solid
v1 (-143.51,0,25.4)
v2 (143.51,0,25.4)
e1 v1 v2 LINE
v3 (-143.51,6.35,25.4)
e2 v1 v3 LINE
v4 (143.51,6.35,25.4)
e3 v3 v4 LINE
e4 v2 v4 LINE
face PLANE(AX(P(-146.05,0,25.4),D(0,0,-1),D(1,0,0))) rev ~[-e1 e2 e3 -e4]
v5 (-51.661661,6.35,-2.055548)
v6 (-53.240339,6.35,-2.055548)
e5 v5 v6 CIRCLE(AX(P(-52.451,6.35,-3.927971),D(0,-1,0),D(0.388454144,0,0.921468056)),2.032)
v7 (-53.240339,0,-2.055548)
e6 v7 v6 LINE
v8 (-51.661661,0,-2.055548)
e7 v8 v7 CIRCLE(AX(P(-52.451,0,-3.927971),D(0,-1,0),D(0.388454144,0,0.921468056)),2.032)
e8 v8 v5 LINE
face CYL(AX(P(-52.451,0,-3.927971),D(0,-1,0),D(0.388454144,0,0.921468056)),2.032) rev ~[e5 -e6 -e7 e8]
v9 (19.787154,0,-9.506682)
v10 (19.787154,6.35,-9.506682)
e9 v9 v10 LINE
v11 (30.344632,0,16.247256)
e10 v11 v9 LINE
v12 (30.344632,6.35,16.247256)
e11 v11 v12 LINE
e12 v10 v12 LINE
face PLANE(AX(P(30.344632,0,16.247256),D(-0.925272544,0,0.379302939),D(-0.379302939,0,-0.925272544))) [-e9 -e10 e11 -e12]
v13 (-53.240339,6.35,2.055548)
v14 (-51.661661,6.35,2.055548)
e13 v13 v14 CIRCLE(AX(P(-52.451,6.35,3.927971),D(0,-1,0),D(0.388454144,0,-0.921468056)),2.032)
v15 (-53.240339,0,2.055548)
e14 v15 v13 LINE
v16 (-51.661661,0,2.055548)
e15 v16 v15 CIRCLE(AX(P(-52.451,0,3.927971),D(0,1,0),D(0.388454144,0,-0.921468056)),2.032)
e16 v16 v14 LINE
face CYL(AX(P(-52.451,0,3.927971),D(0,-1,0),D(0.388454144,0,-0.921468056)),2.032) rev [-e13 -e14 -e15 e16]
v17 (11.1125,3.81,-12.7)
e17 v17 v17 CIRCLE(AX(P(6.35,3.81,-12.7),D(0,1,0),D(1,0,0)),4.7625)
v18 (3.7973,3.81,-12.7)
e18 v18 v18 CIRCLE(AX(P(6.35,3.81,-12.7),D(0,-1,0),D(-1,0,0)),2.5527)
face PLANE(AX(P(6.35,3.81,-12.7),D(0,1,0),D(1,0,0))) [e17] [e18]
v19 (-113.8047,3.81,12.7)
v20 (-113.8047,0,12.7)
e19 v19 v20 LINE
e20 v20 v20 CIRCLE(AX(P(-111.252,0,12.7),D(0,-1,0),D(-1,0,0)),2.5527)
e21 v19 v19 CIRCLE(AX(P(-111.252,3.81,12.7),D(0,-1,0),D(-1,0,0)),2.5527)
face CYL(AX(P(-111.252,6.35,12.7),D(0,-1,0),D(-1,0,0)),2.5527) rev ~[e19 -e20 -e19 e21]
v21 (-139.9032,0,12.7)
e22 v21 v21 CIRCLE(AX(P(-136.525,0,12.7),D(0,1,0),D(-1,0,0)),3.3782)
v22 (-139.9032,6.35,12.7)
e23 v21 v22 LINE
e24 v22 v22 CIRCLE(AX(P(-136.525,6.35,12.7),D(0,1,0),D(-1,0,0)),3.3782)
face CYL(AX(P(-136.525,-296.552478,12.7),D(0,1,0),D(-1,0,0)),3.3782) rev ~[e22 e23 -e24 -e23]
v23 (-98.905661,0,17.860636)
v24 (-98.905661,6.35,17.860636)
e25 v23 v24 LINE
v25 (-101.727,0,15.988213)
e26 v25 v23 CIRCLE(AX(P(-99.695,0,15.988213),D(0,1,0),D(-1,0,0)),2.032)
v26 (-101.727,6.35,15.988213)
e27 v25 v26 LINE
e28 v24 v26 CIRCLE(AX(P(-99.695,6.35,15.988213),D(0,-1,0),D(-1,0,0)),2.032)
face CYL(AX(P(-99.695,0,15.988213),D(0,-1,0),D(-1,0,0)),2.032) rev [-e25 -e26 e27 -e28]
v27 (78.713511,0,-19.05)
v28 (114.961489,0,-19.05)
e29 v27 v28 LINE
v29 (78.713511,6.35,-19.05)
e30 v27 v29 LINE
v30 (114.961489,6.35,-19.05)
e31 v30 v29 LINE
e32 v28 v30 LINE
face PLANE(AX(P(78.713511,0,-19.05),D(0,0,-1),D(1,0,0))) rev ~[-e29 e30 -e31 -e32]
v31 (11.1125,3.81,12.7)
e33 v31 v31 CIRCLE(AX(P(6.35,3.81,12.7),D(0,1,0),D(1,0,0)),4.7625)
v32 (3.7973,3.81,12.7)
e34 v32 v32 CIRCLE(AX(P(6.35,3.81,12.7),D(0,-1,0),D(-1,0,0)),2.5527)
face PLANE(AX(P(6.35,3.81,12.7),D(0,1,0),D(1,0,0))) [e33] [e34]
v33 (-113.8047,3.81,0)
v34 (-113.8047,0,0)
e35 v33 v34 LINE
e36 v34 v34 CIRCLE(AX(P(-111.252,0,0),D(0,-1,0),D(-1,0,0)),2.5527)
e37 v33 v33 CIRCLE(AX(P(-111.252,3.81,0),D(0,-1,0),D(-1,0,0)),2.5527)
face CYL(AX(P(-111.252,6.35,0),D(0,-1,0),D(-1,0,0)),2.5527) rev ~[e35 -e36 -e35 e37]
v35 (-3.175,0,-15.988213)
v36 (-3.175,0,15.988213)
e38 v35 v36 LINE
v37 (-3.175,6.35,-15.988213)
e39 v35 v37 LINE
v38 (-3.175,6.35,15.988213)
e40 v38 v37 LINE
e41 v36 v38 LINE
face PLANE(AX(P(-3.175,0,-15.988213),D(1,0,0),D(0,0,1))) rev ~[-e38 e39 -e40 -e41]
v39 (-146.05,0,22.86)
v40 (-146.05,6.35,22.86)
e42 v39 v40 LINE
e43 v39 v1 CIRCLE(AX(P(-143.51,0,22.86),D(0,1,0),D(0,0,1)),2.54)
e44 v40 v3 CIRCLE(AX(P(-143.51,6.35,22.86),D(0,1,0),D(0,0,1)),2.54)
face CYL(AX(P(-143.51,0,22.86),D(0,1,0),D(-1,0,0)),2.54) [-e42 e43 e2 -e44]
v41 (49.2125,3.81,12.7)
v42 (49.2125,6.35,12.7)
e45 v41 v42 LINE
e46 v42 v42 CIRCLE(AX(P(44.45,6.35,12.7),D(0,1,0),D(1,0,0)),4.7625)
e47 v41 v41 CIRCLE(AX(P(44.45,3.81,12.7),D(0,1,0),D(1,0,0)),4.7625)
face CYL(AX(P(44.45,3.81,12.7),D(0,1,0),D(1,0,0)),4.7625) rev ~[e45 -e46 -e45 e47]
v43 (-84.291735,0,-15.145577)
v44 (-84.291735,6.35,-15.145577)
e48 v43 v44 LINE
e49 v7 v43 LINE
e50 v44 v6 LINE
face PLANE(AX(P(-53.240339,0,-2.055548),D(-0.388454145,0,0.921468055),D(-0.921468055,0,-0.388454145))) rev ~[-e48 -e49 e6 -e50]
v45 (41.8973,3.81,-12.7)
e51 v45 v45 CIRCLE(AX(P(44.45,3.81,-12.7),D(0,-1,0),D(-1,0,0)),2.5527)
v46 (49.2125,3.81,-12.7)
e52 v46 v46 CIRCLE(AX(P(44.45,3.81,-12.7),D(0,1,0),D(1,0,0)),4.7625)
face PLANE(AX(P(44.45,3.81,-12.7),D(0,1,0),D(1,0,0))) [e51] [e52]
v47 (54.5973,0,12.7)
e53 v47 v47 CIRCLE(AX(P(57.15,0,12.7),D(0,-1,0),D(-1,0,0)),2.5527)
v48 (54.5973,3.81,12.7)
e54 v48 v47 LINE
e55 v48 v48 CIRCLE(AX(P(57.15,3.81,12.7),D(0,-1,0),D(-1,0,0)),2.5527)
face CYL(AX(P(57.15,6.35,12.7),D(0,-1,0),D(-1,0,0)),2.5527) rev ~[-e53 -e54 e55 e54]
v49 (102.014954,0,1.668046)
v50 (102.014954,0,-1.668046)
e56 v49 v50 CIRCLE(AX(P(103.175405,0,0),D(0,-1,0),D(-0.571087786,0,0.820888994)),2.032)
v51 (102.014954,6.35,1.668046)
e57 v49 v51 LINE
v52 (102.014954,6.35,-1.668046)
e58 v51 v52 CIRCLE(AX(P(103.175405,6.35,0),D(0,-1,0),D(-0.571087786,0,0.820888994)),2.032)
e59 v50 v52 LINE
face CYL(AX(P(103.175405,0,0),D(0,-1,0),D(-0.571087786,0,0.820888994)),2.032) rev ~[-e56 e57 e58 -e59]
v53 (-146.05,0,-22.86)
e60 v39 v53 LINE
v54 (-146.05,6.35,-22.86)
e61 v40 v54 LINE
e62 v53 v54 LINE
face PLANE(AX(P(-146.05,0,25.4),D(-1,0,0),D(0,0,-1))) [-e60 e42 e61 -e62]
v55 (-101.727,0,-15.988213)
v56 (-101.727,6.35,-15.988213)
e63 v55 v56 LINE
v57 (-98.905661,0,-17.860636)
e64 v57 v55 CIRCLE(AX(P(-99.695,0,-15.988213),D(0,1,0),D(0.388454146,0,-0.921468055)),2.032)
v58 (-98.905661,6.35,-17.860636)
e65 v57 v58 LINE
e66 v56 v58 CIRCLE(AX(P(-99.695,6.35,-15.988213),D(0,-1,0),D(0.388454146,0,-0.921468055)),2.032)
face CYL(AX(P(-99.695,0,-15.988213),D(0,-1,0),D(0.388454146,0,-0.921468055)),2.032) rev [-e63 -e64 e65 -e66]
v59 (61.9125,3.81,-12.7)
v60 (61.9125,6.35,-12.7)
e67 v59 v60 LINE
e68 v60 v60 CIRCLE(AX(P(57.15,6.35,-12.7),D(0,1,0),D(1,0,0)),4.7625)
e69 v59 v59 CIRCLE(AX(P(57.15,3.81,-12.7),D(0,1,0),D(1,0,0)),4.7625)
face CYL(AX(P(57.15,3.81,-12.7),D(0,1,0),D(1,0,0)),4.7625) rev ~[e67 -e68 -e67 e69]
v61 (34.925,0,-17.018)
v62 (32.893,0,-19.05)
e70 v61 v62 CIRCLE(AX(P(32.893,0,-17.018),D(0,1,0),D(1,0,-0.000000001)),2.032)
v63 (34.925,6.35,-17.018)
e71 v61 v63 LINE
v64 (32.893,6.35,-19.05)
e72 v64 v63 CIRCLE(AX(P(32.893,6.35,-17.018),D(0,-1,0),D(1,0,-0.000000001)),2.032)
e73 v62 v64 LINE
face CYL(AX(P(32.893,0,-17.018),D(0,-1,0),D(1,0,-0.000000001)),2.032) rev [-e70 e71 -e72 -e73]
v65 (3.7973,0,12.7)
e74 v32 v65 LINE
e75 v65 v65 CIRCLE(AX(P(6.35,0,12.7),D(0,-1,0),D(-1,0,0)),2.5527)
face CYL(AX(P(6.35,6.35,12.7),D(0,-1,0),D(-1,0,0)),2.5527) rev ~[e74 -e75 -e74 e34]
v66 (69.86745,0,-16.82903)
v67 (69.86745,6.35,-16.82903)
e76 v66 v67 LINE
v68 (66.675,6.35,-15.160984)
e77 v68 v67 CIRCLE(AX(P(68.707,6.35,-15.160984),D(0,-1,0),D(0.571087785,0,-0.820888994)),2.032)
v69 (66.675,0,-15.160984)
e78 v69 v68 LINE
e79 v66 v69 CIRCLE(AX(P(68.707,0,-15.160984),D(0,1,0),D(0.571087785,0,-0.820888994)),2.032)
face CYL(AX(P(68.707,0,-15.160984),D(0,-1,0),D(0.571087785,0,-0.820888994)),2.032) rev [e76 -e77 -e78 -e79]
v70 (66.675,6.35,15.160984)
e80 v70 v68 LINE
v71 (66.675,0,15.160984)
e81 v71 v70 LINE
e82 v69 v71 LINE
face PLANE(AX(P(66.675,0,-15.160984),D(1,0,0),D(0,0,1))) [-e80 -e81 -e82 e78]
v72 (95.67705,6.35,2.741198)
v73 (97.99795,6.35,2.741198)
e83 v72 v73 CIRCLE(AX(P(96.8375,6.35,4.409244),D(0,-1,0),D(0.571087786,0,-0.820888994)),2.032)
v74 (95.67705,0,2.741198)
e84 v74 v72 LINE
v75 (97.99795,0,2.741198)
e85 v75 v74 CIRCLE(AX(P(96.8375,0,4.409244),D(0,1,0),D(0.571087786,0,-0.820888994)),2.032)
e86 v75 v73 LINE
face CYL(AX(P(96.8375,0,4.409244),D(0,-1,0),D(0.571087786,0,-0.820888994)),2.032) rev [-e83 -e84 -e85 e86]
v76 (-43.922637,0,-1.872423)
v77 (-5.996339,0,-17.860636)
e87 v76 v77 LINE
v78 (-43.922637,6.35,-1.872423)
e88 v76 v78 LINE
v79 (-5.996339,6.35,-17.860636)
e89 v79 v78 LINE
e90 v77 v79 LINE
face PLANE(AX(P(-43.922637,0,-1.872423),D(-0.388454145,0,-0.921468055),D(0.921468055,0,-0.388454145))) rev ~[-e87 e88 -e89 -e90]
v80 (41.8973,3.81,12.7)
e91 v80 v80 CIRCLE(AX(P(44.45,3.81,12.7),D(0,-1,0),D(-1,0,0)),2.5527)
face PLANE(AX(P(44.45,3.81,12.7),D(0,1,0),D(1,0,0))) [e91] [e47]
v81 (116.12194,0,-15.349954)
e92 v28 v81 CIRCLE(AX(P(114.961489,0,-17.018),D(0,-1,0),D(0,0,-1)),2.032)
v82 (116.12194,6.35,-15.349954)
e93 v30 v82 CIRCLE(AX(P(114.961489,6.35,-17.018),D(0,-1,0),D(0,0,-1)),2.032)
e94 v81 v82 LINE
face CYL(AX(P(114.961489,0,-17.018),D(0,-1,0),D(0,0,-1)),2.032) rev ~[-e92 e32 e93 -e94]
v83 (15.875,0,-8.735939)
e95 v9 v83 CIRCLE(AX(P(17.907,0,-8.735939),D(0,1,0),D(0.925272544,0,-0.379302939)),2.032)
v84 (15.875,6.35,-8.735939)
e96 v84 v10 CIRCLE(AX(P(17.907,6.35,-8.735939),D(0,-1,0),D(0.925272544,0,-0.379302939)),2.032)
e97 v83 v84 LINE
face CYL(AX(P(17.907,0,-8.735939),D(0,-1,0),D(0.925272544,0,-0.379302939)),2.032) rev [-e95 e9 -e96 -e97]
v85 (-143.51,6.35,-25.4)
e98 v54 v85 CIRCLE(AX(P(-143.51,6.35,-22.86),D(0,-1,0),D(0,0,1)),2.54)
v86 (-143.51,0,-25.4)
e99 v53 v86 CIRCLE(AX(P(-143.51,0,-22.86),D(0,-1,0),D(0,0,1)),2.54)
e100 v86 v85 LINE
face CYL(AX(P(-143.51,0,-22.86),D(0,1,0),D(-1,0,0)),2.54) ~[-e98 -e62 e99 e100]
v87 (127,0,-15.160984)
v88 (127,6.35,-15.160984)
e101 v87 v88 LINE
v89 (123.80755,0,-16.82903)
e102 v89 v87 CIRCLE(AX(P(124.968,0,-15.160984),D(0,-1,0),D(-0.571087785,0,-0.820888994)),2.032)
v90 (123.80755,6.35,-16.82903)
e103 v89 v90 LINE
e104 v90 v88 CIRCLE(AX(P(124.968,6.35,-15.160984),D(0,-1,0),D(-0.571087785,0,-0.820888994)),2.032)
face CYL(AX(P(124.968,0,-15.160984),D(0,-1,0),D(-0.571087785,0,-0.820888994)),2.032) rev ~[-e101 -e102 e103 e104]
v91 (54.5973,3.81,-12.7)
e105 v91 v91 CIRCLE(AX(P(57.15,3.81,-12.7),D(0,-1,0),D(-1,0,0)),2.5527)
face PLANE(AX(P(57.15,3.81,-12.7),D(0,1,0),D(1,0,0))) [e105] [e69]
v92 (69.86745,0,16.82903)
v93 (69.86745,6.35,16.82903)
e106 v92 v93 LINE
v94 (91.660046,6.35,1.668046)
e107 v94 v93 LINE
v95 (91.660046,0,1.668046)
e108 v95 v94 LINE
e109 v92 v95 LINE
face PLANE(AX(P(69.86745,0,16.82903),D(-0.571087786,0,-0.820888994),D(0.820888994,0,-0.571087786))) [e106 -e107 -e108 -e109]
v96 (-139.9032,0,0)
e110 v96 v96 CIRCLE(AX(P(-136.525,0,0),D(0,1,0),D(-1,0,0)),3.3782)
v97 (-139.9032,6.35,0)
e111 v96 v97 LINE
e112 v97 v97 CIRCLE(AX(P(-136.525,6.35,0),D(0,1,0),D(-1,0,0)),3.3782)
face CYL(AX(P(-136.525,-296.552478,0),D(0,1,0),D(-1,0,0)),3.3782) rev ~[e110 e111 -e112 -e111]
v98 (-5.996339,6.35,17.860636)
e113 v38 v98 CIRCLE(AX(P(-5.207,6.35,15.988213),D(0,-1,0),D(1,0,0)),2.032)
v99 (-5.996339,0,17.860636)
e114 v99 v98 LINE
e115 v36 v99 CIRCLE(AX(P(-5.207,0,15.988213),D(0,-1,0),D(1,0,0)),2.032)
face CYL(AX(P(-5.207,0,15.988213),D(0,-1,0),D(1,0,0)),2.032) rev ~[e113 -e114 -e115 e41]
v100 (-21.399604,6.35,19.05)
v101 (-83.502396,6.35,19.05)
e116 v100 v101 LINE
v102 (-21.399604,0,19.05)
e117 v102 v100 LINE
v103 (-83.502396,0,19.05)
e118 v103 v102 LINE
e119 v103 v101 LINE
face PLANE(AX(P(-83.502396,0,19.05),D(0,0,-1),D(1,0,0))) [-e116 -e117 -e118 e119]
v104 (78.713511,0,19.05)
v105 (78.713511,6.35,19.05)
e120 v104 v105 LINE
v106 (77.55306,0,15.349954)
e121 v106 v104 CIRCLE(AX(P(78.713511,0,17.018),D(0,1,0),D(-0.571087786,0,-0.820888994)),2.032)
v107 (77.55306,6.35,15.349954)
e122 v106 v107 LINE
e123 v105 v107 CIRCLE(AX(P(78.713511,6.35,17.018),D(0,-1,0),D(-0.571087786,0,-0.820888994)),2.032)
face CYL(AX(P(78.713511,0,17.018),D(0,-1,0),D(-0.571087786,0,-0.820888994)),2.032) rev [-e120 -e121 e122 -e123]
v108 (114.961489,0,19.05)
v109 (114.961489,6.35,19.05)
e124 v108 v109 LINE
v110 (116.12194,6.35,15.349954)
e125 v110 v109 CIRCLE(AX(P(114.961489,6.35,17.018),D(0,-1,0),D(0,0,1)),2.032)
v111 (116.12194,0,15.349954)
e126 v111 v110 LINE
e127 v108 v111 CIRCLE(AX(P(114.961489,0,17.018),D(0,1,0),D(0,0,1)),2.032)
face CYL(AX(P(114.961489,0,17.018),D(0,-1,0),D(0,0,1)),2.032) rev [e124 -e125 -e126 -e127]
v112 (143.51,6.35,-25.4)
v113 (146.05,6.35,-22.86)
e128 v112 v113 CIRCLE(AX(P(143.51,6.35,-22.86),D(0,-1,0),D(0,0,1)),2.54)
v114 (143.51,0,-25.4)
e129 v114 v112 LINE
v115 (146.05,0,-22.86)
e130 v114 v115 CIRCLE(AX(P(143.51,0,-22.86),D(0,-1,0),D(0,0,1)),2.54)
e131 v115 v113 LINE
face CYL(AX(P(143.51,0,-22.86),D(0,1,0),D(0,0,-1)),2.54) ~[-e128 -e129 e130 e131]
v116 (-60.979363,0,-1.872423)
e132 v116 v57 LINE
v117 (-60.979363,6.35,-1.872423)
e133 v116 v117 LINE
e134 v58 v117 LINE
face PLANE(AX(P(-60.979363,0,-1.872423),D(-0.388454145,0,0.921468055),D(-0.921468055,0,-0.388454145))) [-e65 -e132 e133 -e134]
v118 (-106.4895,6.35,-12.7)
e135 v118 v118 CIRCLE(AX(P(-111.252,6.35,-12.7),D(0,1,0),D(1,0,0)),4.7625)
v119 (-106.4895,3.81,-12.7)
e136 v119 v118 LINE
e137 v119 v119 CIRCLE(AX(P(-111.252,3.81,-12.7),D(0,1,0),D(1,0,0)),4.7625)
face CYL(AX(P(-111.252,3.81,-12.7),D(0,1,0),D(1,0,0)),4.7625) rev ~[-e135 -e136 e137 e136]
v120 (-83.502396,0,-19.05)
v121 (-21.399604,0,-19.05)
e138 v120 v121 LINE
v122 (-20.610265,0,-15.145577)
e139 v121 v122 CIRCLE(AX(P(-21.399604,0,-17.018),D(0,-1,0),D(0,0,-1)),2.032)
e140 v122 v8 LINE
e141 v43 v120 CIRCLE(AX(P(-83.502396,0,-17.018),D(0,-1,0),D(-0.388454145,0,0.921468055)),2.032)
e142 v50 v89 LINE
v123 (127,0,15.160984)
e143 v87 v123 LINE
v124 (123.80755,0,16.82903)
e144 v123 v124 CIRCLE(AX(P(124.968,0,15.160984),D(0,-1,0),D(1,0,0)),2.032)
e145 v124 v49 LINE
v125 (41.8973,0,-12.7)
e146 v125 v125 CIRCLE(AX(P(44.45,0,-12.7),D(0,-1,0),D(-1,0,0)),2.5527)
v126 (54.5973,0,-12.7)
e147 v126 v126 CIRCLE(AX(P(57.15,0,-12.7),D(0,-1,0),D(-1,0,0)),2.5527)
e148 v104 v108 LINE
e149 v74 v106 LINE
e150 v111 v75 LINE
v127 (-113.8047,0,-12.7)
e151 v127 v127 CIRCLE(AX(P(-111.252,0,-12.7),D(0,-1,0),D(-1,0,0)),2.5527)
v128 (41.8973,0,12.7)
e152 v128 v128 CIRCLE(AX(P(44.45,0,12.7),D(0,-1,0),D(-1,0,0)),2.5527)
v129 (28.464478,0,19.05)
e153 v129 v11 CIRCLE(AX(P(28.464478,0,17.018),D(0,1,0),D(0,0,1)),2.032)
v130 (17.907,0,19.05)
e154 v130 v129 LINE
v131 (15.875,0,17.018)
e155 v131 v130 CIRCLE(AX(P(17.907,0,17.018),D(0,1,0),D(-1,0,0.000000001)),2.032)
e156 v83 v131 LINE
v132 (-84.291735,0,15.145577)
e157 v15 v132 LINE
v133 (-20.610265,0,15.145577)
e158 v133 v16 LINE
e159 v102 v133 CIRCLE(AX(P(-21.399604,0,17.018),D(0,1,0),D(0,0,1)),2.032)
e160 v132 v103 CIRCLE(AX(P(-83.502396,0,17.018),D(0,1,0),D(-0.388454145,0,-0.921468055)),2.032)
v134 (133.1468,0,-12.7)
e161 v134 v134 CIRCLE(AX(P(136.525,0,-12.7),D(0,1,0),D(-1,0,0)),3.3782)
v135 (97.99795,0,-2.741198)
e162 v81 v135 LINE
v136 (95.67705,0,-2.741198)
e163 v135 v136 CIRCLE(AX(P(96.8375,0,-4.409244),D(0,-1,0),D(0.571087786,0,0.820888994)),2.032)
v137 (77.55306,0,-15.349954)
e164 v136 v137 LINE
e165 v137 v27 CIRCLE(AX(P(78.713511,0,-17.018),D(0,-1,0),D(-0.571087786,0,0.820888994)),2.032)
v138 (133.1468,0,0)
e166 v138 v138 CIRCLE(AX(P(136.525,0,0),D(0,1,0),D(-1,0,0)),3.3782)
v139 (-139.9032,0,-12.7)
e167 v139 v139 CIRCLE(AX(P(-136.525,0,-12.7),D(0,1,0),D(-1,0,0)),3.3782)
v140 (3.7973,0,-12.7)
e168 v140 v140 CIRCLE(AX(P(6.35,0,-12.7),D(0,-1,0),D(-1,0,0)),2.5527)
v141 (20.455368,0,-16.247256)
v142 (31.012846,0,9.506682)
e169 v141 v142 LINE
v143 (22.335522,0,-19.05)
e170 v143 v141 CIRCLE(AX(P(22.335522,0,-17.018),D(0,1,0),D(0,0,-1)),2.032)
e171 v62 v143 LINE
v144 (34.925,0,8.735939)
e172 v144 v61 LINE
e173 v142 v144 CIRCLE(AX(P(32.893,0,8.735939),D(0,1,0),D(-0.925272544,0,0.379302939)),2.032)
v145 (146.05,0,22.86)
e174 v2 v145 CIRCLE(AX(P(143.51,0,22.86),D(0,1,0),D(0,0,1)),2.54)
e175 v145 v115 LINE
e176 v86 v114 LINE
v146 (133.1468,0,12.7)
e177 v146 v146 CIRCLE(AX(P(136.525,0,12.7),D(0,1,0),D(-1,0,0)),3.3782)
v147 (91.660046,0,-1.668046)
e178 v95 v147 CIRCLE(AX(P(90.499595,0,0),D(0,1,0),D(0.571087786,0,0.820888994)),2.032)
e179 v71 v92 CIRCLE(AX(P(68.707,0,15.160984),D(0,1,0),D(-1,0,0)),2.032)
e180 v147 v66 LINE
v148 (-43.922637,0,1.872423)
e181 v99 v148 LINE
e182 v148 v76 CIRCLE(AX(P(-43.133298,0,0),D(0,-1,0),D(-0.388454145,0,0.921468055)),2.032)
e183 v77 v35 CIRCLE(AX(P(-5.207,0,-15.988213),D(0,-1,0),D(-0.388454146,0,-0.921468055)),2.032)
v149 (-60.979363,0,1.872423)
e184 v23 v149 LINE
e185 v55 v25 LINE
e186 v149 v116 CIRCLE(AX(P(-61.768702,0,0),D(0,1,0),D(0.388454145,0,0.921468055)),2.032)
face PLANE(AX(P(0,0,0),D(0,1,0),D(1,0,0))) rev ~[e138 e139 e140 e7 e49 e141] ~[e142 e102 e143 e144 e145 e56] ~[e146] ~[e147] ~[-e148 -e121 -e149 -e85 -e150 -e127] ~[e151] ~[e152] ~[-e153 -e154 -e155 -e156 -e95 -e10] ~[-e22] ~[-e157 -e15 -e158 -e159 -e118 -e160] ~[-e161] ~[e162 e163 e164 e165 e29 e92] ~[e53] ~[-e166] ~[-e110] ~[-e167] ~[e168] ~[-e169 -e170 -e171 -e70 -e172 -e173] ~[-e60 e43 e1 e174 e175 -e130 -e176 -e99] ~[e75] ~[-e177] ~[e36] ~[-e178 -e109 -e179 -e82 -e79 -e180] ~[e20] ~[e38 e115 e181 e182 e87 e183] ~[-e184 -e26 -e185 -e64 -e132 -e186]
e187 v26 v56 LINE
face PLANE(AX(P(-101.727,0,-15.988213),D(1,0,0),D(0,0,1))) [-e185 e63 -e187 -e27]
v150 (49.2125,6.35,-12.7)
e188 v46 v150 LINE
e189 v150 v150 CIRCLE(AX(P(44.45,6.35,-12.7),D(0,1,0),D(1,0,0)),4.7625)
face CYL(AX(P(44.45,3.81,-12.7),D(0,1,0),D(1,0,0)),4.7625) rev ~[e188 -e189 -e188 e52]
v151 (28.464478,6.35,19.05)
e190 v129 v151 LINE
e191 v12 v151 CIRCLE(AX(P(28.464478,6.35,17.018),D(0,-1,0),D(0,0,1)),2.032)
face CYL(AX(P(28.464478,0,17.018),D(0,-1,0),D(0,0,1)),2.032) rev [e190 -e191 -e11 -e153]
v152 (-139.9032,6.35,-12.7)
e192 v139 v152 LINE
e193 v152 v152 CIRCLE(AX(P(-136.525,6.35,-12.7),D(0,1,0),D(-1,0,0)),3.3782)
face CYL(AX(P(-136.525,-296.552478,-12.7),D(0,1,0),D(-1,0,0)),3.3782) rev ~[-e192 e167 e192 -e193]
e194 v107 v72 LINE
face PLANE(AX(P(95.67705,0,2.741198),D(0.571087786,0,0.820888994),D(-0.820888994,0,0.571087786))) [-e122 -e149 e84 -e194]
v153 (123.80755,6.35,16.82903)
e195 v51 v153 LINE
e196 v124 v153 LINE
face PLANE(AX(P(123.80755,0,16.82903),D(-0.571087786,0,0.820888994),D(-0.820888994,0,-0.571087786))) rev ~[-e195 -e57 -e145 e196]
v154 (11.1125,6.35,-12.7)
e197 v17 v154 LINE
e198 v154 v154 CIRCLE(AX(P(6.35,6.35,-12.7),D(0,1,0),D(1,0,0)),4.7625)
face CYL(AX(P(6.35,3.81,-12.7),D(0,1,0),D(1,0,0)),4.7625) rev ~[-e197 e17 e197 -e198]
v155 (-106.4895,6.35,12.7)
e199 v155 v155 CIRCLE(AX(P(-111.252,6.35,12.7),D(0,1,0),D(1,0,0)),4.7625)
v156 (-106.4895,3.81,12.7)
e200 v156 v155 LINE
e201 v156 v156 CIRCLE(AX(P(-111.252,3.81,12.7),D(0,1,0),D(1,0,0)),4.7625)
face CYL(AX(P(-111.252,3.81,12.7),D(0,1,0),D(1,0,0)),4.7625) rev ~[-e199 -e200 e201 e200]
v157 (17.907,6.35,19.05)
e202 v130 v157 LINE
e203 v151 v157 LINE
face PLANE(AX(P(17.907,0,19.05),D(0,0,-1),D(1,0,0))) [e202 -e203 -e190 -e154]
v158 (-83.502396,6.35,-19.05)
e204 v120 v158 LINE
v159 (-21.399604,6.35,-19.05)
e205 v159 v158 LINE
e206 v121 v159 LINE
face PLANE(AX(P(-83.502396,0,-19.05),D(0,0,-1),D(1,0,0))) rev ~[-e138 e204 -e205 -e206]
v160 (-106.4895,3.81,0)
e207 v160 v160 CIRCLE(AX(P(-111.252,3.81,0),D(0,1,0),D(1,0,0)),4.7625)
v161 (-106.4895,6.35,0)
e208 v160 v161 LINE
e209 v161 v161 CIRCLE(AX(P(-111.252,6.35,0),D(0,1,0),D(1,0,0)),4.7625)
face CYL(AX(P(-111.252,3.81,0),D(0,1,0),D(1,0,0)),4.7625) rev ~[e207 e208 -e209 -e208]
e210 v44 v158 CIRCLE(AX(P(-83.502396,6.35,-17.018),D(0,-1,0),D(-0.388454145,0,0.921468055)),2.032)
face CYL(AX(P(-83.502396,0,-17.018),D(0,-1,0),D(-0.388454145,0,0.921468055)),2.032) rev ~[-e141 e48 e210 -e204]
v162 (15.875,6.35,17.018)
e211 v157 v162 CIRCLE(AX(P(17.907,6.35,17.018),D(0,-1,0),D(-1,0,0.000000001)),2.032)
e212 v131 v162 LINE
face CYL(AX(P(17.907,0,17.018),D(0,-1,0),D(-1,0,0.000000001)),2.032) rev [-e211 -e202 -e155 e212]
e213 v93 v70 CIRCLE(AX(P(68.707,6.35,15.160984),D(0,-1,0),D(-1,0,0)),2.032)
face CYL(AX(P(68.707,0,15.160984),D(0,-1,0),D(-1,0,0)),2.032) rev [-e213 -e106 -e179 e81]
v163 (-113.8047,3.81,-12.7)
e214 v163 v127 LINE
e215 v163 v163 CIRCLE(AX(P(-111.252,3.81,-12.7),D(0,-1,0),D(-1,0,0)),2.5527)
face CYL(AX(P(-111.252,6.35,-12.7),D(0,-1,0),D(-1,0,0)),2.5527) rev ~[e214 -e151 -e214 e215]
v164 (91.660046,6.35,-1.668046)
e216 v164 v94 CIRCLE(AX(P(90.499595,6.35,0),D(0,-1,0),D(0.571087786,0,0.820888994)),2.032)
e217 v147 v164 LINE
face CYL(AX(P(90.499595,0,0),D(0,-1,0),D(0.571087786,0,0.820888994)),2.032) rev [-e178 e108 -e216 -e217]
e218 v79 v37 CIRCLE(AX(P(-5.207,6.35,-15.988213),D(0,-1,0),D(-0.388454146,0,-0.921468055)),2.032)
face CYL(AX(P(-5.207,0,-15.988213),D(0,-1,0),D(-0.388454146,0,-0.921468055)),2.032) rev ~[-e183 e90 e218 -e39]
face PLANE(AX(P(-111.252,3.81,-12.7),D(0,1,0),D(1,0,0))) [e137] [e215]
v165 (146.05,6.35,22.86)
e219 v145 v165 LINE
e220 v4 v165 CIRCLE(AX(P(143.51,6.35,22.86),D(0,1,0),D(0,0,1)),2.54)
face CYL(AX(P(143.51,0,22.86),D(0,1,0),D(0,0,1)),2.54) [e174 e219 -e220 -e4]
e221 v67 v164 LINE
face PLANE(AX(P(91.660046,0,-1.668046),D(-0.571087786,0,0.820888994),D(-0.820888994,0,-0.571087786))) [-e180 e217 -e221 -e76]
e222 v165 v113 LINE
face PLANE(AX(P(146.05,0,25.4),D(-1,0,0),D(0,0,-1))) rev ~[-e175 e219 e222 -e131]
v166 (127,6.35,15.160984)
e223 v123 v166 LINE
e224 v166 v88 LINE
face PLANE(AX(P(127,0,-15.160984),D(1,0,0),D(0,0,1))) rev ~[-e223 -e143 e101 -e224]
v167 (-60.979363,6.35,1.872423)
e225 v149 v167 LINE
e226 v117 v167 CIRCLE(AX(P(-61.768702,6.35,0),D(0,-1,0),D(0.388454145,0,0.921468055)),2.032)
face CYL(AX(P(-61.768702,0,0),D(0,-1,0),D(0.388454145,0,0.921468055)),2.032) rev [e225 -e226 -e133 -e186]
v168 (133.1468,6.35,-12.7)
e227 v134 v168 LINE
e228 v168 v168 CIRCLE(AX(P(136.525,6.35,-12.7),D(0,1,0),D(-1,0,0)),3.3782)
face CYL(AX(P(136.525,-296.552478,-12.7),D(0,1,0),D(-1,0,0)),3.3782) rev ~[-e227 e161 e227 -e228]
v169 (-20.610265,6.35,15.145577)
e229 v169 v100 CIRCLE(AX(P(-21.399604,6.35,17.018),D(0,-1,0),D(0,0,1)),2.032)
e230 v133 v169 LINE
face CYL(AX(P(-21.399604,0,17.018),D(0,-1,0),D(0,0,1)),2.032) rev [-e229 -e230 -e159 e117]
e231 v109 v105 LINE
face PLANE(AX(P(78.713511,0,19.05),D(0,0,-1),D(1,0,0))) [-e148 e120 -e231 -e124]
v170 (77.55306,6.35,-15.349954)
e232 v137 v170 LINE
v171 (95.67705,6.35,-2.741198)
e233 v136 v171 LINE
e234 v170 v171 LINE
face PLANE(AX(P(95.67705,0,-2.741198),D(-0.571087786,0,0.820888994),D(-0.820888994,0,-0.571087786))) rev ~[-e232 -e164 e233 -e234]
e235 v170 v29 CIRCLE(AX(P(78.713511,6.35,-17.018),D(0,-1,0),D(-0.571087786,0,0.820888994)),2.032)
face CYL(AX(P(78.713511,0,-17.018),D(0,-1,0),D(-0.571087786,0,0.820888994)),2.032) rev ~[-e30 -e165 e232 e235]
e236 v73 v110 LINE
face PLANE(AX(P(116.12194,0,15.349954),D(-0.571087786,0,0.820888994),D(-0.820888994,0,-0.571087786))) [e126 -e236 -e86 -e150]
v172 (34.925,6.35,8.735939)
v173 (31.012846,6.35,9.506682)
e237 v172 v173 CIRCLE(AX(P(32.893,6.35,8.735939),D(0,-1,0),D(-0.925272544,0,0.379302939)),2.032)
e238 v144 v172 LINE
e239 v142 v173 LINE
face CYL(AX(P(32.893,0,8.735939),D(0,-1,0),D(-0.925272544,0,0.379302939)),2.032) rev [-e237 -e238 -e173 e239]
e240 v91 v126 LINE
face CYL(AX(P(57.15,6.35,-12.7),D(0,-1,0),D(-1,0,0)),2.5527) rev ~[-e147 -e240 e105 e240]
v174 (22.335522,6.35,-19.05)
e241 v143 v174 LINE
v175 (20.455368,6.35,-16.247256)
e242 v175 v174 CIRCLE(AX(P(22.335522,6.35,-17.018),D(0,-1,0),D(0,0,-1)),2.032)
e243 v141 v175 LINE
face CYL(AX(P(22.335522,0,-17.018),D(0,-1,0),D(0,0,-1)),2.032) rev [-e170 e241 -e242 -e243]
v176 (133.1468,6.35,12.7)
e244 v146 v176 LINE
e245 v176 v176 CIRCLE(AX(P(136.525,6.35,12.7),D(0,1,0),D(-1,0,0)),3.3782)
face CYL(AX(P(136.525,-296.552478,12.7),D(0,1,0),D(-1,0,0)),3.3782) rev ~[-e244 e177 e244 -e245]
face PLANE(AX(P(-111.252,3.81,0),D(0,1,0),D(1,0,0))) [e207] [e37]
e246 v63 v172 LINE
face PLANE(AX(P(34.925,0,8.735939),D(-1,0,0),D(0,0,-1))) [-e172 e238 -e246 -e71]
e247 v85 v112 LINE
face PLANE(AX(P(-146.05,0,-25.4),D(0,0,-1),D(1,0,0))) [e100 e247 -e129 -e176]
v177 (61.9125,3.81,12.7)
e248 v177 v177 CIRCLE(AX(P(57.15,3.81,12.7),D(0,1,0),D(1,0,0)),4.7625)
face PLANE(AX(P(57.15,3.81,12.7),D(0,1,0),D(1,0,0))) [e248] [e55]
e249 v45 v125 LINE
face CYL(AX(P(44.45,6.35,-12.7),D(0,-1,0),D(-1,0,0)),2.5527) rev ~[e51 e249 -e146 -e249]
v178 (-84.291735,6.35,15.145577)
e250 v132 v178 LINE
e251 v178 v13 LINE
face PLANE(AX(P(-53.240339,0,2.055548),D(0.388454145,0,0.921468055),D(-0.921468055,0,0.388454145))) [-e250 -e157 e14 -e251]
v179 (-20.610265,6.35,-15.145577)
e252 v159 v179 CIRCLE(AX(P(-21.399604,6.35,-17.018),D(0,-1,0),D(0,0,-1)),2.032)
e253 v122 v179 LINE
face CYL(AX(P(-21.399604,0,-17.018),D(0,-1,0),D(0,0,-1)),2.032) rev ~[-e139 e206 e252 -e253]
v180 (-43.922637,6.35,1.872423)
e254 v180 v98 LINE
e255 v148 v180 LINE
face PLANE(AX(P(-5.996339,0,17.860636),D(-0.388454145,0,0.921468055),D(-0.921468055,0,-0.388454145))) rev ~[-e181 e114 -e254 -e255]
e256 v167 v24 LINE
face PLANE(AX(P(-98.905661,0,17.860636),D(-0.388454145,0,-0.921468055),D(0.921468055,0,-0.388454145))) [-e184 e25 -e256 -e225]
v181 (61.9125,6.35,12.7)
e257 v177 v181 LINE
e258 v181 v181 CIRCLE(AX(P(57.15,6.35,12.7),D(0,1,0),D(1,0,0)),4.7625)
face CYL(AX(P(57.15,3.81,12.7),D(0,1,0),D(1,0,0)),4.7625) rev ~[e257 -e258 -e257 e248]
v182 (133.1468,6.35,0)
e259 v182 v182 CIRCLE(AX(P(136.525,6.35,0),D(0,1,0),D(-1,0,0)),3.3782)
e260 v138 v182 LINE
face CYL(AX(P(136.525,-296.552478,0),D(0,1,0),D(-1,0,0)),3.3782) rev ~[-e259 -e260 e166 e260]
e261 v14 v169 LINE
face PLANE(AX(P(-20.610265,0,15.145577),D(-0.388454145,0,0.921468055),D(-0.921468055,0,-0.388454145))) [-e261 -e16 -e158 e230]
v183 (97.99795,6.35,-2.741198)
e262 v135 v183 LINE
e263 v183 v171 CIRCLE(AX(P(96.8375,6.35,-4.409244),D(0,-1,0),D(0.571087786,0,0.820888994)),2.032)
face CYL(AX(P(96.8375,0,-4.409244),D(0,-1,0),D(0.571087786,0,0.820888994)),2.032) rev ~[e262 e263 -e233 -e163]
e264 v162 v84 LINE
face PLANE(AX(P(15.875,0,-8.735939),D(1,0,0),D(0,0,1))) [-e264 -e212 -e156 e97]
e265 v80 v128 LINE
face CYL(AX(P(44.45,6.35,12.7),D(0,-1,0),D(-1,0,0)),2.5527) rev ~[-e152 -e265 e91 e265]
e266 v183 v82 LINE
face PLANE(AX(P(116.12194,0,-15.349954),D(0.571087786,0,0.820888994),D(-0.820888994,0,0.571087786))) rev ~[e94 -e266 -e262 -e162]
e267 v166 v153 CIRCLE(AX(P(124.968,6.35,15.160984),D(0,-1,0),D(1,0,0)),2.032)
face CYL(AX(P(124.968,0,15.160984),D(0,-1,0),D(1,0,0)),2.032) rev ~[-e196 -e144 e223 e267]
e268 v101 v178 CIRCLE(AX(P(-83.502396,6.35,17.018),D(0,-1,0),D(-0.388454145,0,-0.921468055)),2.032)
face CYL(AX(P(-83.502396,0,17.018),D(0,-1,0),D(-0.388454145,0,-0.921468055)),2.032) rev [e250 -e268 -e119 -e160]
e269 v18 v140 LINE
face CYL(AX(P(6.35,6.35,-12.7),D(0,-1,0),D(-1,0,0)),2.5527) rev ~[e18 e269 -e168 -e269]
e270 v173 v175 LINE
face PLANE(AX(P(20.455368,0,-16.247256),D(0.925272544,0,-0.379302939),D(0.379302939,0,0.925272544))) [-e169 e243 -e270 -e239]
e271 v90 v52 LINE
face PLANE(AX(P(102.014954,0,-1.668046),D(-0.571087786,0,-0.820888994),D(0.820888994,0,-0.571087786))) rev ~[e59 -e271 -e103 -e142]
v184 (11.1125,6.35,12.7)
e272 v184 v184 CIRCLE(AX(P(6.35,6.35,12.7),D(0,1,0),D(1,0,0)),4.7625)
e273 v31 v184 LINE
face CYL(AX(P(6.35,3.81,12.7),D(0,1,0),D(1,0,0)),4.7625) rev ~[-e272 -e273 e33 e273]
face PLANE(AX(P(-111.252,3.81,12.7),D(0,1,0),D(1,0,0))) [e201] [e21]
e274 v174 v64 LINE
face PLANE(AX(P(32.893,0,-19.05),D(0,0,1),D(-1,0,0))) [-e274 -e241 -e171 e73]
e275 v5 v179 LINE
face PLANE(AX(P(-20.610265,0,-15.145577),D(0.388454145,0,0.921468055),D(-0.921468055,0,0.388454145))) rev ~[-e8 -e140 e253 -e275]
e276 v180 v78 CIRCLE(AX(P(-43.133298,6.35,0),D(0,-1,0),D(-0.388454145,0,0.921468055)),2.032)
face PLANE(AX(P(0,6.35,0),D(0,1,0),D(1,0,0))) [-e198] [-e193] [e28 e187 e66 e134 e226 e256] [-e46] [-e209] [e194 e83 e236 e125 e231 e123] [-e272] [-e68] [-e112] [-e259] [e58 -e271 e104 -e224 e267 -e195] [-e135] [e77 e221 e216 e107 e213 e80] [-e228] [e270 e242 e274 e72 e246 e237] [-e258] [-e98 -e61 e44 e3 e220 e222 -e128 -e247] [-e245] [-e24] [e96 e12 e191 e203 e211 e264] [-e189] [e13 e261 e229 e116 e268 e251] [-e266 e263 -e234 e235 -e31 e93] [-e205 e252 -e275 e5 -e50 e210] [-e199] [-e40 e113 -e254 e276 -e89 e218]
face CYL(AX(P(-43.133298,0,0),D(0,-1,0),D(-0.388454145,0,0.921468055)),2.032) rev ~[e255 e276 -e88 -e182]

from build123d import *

# Parameters (mm, degrees)
SKETCH1_W                                       = 292.1
SKETCH1_H                                       = 50.8
BOSS_EXTRUDE1_DEPTH                             = 6.35
CBORE_FOR_10_SOCKET_HEAD_CAP_SCREW1_D           = 5.1054
CBORE_FOR_10_SOCKET_HEAD_CAP_SCREW1_CBORE_D     = 9.525
CBORE_FOR_10_SOCKET_HEAD_CAP_SCREW1_CBORE_DEPTH = 2.54
F_1_4_CLEARANCE_HOLE1_D                         = 6.7564
FILLET1_R                                       = 2.54
CUT_EXTRUDE1_DEPTH                              = 7.35


with BuildPart() as part:
    # Sketch1 → Boss-Extrude1 (new body)
    with BuildSketch(Plane(origin=(0, 0, 0), x_dir=(1, 0, 0), z_dir=(0, 1, 0))):
        Rectangle(SKETCH1_W, SKETCH1_H)
    extrude(amount=BOSS_EXTRUDE1_DEPTH)

    # CBORE for #10 Socket Head Cap Screw1 (through all)
    with Locations(Plane(origin=(0, 6.35, 0), x_dir=(1, 0, 0), z_dir=(0, 1, 0))):
        with Locations((44.45, 12.7), (6.35, 12.7), (6.35, -12.7), (44.45, -12.7), (-111.252, 12.7), (-111.252, 0), (-111.252, -12.7), (57.15, 12.7), (57.15, -12.7)):
            CounterBoreHole(CBORE_FOR_10_SOCKET_HEAD_CAP_SCREW1_D / 2, CBORE_FOR_10_SOCKET_HEAD_CAP_SCREW1_CBORE_D / 2, CBORE_FOR_10_SOCKET_HEAD_CAP_SCREW1_CBORE_DEPTH)

    # 1/4 Clearance Hole1 (through all)
    with Locations(Plane.XZ):
        with Locations((-136.525, 12.7), (-136.525, 0), (-136.525, -12.7), (136.525, 12.7), (136.525, 0), (136.525, -12.7)):
            Hole(F_1_4_CLEARANCE_HOLE1_D / 2)

    # Fillet1
    fillet1_edges = [part.edges().sort_by_distance(p)[0] for p in [
        (146.05, 3.175, 25.4),
        (-146.05, 3.175, 25.4),
        (-146.05, 3.175, -25.4),
        (146.05, 3.175, -25.4),
    ]]
    fillet(fillet1_edges, radius=FILLET1_R)

    # Sketch8 → Cut-Extrude1 (cut, through all)
    with BuildSketch(Plane.XZ):
        with BuildLine():
            Line((-83.502395687, -19.05), (-21.399604313, -19.05))
            ThreePointArc((-21.399604313, -19.05), (-19.407898045, -17.420653874), (-20.61026549, -15.145576911))
            Line((-20.61026549, -15.145576911), (-51.661661177, -2.055548129))
            ThreePointArc((-51.661661177, -2.055548129), (-52.451, -1.895971218), (-53.240338823, -2.055548129))
            Line((-53.240338823, -2.055548129), (-84.29173451, -15.145576911))
            ThreePointArc((-84.29173451, -15.145576911), (-85.494101955, -17.420653874), (-83.502395687, -19.05))
        make_face()
        with BuildLine():
            Line((-101.727, -15.988213098), (-101.727, 15.988213098))
            ThreePointArc((-101.727, 15.988213098), (-100.818629724, 17.681281391), (-98.905661177, 17.860636186))
            Line((-98.905661177, 17.860636186), (-60.979363267, 1.872423089))
            ThreePointArc((-60.979363267, 1.872423089), (-59.73670209, 0), (-60.979363267, -1.872423089))
            Line((-60.979363267, -1.872423089), (-98.905661177, -17.860636186))
            ThreePointArc((-98.905661177, -17.860636186), (-100.818629724, -17.681281391), (-101.727, -15.988213098))
        make_face()
        with BuildLine():
            Line((-83.502395687, 19.05), (-21.399604313, 19.05))
            ThreePointArc((-21.399604313, 19.05), (-19.407898045, 17.420653874), (-20.61026549, 15.145576911))
            Line((-20.61026549, 15.145576911), (-51.661661177, 2.055548129))
            ThreePointArc((-51.661661177, 2.055548129), (-52.451, 1.895971218), (-53.240338823, 2.055548129))
            Line((-53.240338823, 2.055548129), (-84.29173451, 15.145576911))
            ThreePointArc((-84.29173451, 15.145576911), (-85.494101955, 17.420653874), (-83.502395687, 19.05))
        make_face()
        with BuildLine():
            Line((-3.175, -15.988213098), (-3.175, 15.988213098))
            ThreePointArc((-3.175, 15.988213098), (-4.083370276, 17.681281391), (-5.996338823, 17.860636186))
            Line((-5.996338823, 17.860636186), (-43.922636733, 1.872423089))
            ThreePointArc((-43.922636733, 1.872423089), (-45.16529791, 0), (-43.922636733, -1.872423089))
            Line((-43.922636733, -1.872423089), (-5.996338823, -17.860636186))
            ThreePointArc((-5.996338823, -17.860636186), (-4.083370276, -17.681281391), (-3.175, -15.988213098))
        make_face()
        with BuildLine():
            Line((20.455368131, -16.247256429), (31.012846191, 9.506682143))
            ThreePointArc((31.012846191, 9.506682143), (33.285779492, 10.729615644), (34.925, 8.735938572))
            Line((34.925, 8.735938572), (34.925, -17.018))
            ThreePointArc((34.925, -17.018), (34.329840979, -18.454840979), (32.893, -19.05))
            Line((32.893, -19.05), (22.33552194, -19.05))
            ThreePointArc((22.33552194, -19.05), (20.64804232, -18.150005535), (20.455368131, -16.247256429))
        make_face()
        with BuildLine():
            Line((15.875, -8.735938572), (15.875, 17.018))
            ThreePointArc((15.875, 17.018), (16.470159021, 18.454840979), (17.907, 19.05))
            Line((17.907, 19.05), (28.46447806, 19.05))
            ThreePointArc((28.46447806, 19.05), (30.15195768, 18.150005535), (30.344631869, 16.247256429))
            Line((30.344631869, 16.247256429), (19.787153809, -9.506682143))
            ThreePointArc((19.787153809, -9.506682143), (17.514220508, -10.729615644), (15.875, -8.735938572))
        make_face()
        with BuildLine():
            Line((78.713510728, -19.05), (114.961489272, -19.05))
            ThreePointArc((114.961489272, -19.05), (116.900367087, -17.626092773), (116.121939653, -15.349953564))
            Line((116.121939653, -15.349953564), (97.997950381, -2.741197719))
            ThreePointArc((97.997950381, -2.741197719), (96.8375, -2.377244155), (95.677049619, -2.741197719))
            Line((95.677049619, -2.741197719), (77.553060347, -15.349953564))
            ThreePointArc((77.553060347, -15.349953564), (76.774632913, -17.626092773), (78.713510728, -19.05))
        make_face()
        with BuildLine():
            Line((66.675, -15.160984063), (66.675, 15.160984063))
            ThreePointArc((66.675, 15.160984063), (67.765992873, 16.961964237), (69.867450381, 16.8290305))
            Line((69.867450381, 16.8290305), (91.660045614, 1.668046436))
            ThreePointArc((91.660045614, 1.668046436), (92.531595233, 0), (91.660045614, -1.668046436))
            Line((91.660045614, -1.668046436), (69.867450381, -16.8290305))
            ThreePointArc((69.867450381, -16.8290305), (67.765992873, -16.961964237), (66.675, -15.160984063))
        make_face()
        with BuildLine():
            Line((78.713510728, 19.05), (114.961489272, 19.05))
            ThreePointArc((114.961489272, 19.05), (116.900367087, 17.626092773), (116.121939653, 15.349953564))
            Line((116.121939653, 15.349953564), (97.997950381, 2.741197719))
            ThreePointArc((97.997950381, 2.741197719), (96.8375, 2.377244155), (95.677049619, 2.741197719))
            Line((95.677049619, 2.741197719), (77.553060347, 15.349953564))
            ThreePointArc((77.553060347, 15.349953564), (76.774632913, 17.626092773), (78.713510728, 19.05))
        make_face()
        with BuildLine():
            Line((127, -15.160984063), (127, 15.160984063))
            ThreePointArc((127, 15.160984063), (125.909007127, 16.961964237), (123.807549619, 16.8290305))
            Line((123.807549619, 16.8290305), (102.014954386, 1.668046436))
            ThreePointArc((102.014954386, 1.668046436), (101.143404767, 0), (102.014954386, -1.668046436))
            Line((102.014954386, -1.668046436), (123.807549619, -16.8290305))
            ThreePointArc((123.807549619, -16.8290305), (125.909007127, -16.961964237), (127, -15.160984063))
        make_face()
    extrude(amount=-CUT_EXTRUDE1_DEPTH, mode=Mode.SUBTRACT)


solid = part.part
